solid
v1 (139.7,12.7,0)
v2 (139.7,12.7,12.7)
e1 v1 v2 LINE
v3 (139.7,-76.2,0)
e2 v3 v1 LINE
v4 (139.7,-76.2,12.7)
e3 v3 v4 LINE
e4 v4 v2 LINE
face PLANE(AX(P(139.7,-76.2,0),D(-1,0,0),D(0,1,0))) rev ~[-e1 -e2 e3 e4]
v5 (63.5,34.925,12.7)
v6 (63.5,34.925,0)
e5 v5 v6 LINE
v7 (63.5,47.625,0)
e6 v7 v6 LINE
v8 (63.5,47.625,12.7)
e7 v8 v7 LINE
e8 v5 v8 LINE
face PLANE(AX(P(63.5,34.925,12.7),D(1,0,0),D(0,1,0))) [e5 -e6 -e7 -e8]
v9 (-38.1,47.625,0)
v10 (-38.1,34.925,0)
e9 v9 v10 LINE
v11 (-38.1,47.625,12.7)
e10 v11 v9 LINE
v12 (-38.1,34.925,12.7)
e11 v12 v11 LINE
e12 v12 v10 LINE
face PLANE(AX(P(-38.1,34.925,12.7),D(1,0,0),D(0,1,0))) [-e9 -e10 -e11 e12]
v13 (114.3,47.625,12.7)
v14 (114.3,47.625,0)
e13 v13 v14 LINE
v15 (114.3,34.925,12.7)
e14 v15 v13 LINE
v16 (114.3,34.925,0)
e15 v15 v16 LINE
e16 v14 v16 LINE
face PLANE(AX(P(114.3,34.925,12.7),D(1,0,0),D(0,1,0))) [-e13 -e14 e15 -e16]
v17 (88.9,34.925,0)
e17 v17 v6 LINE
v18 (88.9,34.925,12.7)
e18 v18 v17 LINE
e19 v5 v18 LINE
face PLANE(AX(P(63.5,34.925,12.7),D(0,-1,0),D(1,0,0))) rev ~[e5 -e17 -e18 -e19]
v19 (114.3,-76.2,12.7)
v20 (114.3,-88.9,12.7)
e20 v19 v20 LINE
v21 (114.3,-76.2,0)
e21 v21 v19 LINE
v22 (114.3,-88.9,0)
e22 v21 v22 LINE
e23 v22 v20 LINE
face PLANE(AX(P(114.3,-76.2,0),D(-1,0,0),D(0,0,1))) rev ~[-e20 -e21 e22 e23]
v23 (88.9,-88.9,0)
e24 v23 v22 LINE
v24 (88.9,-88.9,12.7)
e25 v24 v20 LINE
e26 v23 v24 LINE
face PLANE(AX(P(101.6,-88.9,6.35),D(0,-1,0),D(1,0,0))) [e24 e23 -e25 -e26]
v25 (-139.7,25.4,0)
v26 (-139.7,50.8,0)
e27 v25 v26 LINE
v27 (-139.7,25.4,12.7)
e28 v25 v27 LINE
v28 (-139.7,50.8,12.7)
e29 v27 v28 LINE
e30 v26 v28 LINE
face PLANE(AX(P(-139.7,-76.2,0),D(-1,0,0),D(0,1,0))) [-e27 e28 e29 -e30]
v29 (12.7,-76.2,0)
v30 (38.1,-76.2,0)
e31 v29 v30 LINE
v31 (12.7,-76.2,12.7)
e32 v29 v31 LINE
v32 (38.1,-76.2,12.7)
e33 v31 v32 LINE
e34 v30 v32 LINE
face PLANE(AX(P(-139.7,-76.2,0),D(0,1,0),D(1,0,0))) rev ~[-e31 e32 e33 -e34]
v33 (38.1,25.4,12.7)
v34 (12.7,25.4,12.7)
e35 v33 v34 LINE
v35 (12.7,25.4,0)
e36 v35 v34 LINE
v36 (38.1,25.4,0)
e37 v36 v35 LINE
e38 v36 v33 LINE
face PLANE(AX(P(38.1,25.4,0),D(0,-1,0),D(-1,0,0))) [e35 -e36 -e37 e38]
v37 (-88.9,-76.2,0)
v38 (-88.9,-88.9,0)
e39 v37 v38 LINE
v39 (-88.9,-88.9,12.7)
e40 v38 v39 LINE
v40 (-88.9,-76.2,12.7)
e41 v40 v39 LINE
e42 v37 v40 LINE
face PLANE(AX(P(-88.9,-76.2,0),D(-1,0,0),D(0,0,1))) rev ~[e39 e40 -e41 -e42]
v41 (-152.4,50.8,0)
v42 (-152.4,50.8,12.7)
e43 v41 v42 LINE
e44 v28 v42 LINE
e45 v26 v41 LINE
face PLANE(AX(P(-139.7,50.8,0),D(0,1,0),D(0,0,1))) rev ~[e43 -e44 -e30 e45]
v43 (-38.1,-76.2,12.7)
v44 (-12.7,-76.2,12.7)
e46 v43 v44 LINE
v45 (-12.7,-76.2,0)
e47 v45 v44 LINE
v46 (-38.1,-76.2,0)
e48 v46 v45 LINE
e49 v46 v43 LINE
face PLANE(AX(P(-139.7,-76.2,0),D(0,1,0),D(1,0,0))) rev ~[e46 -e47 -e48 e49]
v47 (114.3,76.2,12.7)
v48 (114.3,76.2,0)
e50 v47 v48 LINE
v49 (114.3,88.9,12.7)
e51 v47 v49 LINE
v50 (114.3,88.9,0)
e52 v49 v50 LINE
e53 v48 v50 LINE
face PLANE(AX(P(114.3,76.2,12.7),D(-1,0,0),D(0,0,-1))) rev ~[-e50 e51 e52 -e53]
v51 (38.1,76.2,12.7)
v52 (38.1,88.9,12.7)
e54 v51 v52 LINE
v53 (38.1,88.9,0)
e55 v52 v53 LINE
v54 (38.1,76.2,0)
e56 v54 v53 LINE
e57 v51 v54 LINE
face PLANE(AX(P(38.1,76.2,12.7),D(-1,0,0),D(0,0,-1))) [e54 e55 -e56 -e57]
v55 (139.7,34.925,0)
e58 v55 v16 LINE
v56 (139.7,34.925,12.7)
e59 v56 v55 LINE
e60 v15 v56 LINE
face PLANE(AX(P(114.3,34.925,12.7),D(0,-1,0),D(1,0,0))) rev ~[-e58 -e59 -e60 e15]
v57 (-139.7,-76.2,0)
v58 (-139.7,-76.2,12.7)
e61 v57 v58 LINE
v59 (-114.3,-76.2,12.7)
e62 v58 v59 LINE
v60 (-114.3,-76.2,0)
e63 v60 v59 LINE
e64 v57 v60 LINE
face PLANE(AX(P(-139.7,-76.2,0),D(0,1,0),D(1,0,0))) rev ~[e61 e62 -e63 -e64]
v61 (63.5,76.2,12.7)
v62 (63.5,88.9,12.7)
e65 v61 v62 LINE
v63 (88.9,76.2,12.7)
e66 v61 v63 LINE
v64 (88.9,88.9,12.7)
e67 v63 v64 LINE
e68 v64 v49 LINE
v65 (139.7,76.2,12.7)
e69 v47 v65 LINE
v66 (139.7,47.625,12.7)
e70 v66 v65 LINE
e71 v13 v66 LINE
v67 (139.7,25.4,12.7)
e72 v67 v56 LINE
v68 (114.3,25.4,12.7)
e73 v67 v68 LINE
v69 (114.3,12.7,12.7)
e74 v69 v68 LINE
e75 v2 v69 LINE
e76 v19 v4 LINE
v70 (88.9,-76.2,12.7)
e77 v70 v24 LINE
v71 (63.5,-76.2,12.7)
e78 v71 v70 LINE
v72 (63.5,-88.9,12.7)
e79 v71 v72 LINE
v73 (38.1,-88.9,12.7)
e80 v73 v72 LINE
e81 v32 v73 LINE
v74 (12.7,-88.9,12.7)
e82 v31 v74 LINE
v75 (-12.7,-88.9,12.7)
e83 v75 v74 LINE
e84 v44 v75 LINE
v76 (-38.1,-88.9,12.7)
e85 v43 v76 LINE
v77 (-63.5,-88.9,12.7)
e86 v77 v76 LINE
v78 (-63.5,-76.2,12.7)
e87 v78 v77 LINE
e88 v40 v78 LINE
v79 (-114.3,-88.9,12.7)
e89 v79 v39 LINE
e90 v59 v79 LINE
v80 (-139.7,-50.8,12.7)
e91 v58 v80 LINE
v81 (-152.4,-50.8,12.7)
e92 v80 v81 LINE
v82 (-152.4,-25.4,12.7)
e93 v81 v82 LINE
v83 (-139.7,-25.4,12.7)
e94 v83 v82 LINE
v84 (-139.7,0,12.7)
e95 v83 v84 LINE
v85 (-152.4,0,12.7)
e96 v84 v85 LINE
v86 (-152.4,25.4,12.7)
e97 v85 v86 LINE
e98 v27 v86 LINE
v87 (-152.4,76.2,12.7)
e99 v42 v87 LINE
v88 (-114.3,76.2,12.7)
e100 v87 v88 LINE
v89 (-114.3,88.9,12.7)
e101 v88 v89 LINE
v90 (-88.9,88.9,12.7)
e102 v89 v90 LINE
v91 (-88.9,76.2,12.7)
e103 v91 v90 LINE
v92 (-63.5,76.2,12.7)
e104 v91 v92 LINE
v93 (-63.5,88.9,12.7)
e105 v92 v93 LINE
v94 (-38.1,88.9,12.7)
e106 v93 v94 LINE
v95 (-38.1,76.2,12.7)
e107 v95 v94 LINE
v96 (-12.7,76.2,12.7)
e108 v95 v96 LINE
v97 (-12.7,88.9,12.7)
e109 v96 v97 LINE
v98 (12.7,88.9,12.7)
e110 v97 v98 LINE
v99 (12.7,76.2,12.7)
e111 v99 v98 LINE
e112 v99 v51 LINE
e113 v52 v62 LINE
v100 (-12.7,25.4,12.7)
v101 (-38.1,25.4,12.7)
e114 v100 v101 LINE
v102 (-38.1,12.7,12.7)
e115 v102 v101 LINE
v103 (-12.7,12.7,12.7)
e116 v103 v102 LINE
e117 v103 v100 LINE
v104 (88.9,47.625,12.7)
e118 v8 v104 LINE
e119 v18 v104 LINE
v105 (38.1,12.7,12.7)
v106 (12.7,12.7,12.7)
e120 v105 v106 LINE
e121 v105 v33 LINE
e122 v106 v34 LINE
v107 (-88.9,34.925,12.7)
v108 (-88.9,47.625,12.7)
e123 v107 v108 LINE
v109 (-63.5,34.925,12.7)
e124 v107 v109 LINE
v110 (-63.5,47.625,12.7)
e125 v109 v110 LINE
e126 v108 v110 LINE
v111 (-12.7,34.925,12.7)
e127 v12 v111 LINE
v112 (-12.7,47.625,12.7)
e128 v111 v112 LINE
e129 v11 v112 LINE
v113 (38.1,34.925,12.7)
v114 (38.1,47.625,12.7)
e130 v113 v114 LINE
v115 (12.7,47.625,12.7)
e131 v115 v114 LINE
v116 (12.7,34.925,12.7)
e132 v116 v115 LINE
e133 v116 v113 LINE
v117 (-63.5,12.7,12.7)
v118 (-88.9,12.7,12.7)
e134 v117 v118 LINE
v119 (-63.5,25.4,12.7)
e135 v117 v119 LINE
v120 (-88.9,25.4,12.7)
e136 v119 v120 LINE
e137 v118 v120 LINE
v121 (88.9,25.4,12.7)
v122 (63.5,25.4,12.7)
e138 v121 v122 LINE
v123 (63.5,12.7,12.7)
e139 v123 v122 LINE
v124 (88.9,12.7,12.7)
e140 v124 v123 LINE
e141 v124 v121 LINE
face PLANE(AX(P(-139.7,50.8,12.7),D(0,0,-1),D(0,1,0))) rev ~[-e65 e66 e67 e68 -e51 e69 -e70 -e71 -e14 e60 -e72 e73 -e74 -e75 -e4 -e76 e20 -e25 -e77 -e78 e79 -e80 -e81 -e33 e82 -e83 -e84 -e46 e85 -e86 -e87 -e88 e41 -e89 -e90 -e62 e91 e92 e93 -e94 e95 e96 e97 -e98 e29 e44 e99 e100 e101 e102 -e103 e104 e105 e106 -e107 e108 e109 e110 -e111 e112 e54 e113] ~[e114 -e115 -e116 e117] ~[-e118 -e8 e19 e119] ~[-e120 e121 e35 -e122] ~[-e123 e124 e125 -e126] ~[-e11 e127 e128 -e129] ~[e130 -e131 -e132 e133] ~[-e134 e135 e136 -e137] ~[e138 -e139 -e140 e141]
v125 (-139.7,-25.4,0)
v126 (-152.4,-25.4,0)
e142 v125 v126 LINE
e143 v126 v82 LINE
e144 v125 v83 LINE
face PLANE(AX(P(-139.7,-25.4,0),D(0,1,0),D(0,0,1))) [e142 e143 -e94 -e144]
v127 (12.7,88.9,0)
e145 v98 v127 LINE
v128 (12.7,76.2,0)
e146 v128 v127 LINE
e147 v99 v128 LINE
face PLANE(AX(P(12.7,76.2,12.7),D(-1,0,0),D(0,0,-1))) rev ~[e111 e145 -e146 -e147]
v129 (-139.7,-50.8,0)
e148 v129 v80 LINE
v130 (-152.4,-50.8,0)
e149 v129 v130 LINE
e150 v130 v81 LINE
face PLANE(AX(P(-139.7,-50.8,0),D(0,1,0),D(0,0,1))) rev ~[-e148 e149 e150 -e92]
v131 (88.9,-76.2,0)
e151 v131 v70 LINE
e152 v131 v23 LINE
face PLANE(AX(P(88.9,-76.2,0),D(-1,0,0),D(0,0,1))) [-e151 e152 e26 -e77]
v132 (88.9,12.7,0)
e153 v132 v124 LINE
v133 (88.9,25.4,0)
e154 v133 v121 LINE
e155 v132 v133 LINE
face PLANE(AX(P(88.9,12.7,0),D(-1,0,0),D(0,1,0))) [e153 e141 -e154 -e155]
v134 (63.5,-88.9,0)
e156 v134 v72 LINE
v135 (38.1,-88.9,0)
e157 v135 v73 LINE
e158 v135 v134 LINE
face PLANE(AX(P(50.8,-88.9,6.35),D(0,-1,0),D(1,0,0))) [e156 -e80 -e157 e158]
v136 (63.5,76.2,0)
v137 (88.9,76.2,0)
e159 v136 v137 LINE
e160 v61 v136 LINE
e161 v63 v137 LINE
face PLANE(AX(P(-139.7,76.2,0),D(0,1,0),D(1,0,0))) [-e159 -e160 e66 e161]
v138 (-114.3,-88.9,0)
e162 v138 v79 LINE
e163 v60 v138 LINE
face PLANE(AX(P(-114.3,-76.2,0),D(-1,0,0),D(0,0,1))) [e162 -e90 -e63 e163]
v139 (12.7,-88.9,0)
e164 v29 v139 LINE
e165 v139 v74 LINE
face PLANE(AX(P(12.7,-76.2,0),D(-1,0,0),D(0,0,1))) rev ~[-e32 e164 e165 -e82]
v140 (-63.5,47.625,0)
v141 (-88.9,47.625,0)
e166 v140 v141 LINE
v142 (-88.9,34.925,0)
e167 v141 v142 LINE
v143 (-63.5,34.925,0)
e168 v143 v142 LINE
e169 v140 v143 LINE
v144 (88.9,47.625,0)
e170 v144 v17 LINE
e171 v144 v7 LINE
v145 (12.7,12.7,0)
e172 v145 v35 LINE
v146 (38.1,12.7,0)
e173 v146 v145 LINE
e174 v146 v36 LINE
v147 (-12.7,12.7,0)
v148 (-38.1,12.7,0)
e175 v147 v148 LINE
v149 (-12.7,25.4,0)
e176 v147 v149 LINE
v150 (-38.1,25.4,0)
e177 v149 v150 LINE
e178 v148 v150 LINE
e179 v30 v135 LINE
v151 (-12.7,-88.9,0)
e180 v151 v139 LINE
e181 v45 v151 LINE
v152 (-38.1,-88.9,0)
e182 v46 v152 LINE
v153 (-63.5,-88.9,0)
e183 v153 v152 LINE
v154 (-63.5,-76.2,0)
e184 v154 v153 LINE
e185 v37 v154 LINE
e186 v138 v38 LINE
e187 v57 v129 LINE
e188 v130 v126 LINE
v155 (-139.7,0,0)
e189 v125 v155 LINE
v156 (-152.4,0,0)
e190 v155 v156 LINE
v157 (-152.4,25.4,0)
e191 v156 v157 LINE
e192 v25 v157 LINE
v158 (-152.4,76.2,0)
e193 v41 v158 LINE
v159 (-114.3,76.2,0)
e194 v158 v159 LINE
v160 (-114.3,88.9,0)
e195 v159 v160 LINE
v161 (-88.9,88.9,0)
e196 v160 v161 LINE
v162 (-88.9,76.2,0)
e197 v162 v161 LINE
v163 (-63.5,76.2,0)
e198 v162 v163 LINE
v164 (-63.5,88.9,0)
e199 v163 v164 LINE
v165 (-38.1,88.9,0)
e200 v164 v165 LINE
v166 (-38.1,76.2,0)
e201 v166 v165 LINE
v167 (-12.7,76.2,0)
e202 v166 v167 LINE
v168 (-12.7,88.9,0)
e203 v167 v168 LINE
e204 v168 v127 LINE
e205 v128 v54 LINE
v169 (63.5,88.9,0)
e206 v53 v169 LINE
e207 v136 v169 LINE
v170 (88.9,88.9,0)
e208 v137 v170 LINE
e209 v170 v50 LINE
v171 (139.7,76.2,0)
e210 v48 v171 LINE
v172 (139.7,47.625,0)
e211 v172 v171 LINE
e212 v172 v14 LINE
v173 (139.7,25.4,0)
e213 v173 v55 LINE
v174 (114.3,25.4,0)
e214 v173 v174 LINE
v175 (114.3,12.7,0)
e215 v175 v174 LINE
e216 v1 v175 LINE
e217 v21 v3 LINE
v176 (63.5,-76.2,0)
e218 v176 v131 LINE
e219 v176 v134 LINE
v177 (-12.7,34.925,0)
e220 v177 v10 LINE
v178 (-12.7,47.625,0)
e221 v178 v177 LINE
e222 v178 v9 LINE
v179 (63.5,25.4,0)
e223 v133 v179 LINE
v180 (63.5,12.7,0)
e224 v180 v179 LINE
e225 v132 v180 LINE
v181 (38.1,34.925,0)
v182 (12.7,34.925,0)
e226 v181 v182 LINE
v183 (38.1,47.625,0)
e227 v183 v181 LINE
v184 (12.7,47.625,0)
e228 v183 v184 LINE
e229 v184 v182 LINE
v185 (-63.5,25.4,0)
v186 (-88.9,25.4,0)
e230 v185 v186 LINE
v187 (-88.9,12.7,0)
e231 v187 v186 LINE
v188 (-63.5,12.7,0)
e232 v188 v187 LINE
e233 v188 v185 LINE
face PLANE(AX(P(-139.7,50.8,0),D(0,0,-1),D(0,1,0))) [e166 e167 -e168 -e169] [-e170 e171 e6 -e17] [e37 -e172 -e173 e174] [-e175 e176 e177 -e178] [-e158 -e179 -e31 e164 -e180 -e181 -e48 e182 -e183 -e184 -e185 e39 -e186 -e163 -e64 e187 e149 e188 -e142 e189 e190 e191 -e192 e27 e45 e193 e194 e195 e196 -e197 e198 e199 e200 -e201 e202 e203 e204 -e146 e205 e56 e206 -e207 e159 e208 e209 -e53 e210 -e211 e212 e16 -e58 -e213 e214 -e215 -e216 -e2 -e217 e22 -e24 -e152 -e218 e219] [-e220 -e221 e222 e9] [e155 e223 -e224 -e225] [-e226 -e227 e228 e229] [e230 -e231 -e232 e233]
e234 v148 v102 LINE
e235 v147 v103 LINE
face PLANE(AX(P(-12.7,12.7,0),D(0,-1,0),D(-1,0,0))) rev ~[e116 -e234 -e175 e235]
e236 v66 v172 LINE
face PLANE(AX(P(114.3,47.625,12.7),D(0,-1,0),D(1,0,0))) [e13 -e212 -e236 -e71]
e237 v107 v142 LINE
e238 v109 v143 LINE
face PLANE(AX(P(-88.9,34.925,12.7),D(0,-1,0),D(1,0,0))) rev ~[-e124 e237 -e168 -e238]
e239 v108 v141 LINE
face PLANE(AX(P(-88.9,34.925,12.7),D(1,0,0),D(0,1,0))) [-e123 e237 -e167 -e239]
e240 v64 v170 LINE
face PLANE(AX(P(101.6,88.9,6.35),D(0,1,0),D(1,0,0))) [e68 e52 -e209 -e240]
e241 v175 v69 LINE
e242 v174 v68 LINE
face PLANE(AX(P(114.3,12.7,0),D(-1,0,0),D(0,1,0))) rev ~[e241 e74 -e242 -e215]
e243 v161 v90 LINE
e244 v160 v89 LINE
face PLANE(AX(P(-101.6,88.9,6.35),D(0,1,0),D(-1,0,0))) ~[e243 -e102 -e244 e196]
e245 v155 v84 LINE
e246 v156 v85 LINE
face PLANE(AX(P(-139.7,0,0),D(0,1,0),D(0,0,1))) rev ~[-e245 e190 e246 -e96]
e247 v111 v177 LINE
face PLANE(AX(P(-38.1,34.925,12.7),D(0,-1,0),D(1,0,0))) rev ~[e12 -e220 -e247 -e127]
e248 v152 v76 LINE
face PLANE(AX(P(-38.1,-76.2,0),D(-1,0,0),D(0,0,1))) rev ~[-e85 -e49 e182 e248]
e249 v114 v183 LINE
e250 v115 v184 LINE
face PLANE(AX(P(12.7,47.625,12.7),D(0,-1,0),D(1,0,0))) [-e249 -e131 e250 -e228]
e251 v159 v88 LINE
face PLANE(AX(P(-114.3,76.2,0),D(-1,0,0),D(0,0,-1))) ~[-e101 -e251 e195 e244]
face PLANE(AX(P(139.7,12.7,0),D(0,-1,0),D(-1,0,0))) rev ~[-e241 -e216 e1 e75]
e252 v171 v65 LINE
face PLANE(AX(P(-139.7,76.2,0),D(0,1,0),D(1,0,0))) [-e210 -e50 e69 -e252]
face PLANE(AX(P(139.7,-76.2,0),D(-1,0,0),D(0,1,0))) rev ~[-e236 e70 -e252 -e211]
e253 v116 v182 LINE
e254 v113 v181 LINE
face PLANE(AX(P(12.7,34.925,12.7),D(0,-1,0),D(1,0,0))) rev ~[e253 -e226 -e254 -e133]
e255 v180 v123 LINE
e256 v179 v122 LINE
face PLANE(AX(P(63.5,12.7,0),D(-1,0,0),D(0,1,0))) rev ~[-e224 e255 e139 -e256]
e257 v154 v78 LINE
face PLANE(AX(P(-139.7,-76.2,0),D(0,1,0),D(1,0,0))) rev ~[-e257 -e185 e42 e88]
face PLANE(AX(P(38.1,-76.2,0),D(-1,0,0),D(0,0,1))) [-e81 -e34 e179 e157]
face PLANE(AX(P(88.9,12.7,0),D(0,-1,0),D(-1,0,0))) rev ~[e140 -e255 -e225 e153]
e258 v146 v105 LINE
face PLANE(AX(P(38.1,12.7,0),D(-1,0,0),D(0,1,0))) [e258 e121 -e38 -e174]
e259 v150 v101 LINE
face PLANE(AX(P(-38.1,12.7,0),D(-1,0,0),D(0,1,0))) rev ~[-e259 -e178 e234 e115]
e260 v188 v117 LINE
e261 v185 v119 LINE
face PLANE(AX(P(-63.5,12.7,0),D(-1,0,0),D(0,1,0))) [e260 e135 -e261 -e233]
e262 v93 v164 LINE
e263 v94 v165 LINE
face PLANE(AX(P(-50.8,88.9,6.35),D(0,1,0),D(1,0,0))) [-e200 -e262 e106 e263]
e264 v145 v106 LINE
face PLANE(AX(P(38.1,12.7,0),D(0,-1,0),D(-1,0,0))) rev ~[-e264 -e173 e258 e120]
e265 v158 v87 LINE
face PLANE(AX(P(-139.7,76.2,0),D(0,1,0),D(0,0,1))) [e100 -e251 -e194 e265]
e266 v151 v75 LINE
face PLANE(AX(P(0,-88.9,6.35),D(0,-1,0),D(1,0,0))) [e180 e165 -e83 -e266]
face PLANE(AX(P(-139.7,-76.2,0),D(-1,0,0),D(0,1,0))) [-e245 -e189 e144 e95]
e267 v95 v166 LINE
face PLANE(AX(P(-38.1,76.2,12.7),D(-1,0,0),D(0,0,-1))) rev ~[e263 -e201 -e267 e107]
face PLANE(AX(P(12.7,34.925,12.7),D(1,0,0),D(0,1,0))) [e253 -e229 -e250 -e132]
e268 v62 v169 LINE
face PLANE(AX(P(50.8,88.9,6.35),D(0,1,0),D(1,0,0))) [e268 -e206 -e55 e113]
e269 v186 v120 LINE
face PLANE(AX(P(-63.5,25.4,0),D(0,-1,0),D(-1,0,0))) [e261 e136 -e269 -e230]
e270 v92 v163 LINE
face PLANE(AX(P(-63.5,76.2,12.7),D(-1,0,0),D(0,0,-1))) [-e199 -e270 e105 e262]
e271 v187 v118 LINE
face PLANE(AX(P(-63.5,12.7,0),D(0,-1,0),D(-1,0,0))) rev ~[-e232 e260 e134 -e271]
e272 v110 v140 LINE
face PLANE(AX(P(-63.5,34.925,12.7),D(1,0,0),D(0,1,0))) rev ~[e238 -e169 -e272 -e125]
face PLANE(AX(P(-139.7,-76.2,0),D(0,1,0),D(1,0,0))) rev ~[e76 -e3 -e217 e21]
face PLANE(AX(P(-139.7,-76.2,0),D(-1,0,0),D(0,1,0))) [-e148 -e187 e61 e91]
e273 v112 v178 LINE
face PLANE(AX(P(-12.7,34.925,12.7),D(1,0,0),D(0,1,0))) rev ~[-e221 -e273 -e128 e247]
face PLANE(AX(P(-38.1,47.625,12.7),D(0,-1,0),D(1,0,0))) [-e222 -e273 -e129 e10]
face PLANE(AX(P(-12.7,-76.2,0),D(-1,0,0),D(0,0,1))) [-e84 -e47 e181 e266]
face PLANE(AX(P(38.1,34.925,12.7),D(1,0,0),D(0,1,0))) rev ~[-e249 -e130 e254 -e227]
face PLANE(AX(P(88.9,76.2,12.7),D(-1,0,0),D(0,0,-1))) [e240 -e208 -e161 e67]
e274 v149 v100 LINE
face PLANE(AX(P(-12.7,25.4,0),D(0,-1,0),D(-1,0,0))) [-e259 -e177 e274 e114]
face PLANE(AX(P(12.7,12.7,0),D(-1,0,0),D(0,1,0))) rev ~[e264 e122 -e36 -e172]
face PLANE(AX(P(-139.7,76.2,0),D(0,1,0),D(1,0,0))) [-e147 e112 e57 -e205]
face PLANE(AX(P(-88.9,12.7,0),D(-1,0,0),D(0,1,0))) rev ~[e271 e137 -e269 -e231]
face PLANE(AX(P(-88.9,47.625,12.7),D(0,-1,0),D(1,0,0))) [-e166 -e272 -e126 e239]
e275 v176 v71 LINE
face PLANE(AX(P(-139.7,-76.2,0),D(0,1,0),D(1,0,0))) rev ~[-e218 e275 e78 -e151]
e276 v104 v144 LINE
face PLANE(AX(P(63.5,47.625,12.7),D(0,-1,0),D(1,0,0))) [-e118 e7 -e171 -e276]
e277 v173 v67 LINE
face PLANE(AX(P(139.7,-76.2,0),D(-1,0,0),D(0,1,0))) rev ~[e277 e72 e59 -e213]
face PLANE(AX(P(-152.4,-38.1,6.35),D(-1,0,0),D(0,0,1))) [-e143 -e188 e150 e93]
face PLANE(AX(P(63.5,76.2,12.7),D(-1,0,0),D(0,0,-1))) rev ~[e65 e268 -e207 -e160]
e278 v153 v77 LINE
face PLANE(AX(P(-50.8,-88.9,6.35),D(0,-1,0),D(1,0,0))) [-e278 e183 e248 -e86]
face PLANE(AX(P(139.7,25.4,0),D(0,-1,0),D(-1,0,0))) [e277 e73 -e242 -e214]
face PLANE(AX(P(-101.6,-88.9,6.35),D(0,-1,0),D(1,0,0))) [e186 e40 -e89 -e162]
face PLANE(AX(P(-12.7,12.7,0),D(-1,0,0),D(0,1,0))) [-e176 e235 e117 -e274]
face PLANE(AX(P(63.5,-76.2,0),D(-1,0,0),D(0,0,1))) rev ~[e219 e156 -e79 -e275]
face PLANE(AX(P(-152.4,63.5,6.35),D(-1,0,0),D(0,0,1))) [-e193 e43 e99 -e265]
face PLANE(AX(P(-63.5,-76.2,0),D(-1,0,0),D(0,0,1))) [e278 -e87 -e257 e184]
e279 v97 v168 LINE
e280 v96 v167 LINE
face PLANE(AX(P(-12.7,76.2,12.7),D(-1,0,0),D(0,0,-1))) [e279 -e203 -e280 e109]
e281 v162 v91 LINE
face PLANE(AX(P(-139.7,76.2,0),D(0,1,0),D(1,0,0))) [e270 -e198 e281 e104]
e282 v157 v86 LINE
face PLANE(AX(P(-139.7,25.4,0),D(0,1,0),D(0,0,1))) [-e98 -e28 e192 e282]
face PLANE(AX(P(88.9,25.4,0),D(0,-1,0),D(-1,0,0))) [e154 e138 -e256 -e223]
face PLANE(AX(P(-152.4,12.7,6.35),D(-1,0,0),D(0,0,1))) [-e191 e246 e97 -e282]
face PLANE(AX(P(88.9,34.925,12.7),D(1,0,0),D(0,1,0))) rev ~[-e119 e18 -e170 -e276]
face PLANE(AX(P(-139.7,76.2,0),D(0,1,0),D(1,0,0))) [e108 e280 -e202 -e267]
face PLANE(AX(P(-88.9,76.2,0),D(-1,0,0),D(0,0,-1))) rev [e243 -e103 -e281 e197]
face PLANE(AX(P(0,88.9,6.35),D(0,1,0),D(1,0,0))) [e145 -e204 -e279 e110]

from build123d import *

# Parameters (mm, degrees)
SKETCH1_W               = 279.4
SKETCH1_H               = 152.4
BOSS_EXTRUDE1_DEPTH     = 12.7
SKETCH2_W               = 25.4
SKETCH2_H               = 12.7
BOSS_EXTRUDE2_DEPTH     = 12.7
LPATTERN1_COUNT         = 5
LPATTERN1_PITCH         = 50.8
MIRROR1_COPY_1_SKETCH_W = 25.4
MIRROR1_COPY_1_SKETCH_H = 12.7
MIRROR1_COPY_1_DEPTH    = 12.7
MIRROR1_COPY_2_SKETCH_W = 25.4
MIRROR1_COPY_2_SKETCH_H = 12.7
MIRROR1_COPY_2_DEPTH    = 12.7
MIRROR1_COPY_3_SKETCH_W = 25.4
MIRROR1_COPY_3_SKETCH_H = 12.7
MIRROR1_COPY_3_DEPTH    = 12.7
MIRROR1_COPY_4_SKETCH_W = 25.4
MIRROR1_COPY_4_SKETCH_H = 12.7
MIRROR1_COPY_4_DEPTH    = 12.7
SKETCH3_W               = 12.7
SKETCH3_H               = 25.4
BOSS_EXTRUDE3_DEPTH     = 12.7
LPATTERN2_COUNT         = 3
LPATTERN2_PITCH         = 50.8
SKETCH4_W               = 25.4
SKETCH4_H               = 12.7
CUT_EXTRUDE1_DEPTH      = 13.7
LPATTERN3_COUNT         = 5
LPATTERN3_PITCH         = 50.8
SKETCH5_W               = 25.4
SKETCH5_H               = 12.7
CUT_EXTRUDE2_DEPTH      = 13.7
LPATTERN4_COUNT         = 5
LPATTERN4_PITCH         = 50.8


with BuildPart() as part:
    # Sketch1 → Boss-Extrude1 (new body)
    with BuildSketch(Plane.XY):
        Rectangle(SKETCH1_W, SKETCH1_H)
    extrude(amount=BOSS_EXTRUDE1_DEPTH)

    # Sketch2 → Boss-Extrude2 (add)
    with BuildSketch(Plane.XZ.offset(76.2)):
        with Locations((-101.6, 6.35)):
            Rectangle(SKETCH2_W, SKETCH2_H)
    boss_extrude2 = extrude(amount=BOSS_EXTRUDE2_DEPTH)

    # LPattern1: Boss-Extrude2 ×5
    with Locations(*[(i * LPATTERN1_PITCH, 0, 0) for i in range(1, LPATTERN1_COUNT)]):
        add(boss_extrude2)

    # Mirror1: Boss-Extrude2 across plane
    add(boss_extrude2.mirror(Plane.ZX))

    # Mirror1 copy 1 sketch → Mirror1 copy 1 (add)
    with BuildSketch(Plane(origin=(50.8, 76.2, 0), x_dir=(1, 0, 0), z_dir=(0, 1, 0))):
        with Locations((-101.6, -6.35)):
            Rectangle(MIRROR1_COPY_1_SKETCH_W, MIRROR1_COPY_1_SKETCH_H)
    extrude(amount=MIRROR1_COPY_1_DEPTH)

    # Mirror1 copy 2 sketch → Mirror1 copy 2 (add)
    with BuildSketch(Plane(origin=(101.6, 76.2, 0), x_dir=(1, 0, 0), z_dir=(0, 1, 0))):
        with Locations((-101.6, -6.35)):
            Rectangle(MIRROR1_COPY_2_SKETCH_W, MIRROR1_COPY_2_SKETCH_H)
    extrude(amount=MIRROR1_COPY_2_DEPTH)

    # Mirror1 copy 3 sketch → Mirror1 copy 3 (add)
    with BuildSketch(Plane(origin=(152.4, 76.2, 0), x_dir=(1, 0, 0), z_dir=(0, 1, 0))):
        with Locations((-101.6, -6.35)):
            Rectangle(MIRROR1_COPY_3_SKETCH_W, MIRROR1_COPY_3_SKETCH_H)
    extrude(amount=MIRROR1_COPY_3_DEPTH)

    # Mirror1 copy 4 sketch → Mirror1 copy 4 (add)
    with BuildSketch(Plane(origin=(203.2, 76.2, 0), x_dir=(1, 0, 0), z_dir=(0, 1, 0))):
        with Locations((-101.6, -6.35)):
            Rectangle(MIRROR1_COPY_4_SKETCH_W, MIRROR1_COPY_4_SKETCH_H)
    extrude(amount=MIRROR1_COPY_4_DEPTH)

    # Sketch3 → Boss-Extrude3 (add)
    with BuildSketch(Plane.ZY.offset(139.7)):
        with Locations((6.35, 63.5)):
            Rectangle(SKETCH3_W, SKETCH3_H)
    boss_extrude3 = extrude(amount=BOSS_EXTRUDE3_DEPTH)

    # LPattern2: Boss-Extrude3 ×3
    with Locations(*[(0, -i * LPATTERN2_PITCH, 0) for i in range(1, LPATTERN2_COUNT)]):
        add(boss_extrude3)

    # Sketch4 → Cut-Extrude1 (cut, through all)
    with BuildSketch(Plane(origin=(0, 0, 0), x_dir=(-1, 0, 0), z_dir=(0, 0, -1))):
        with Locations((-127, 19.05)):
            Rectangle(SKETCH4_W, SKETCH4_H)
    cut_extrude1 = extrude(amount=-CUT_EXTRUDE1_DEPTH, mode=Mode.SUBTRACT)

    # LPattern3: Cut-Extrude1 ×5
    with Locations(*[(-i * LPATTERN3_PITCH, 0, 0) for i in range(1, LPATTERN3_COUNT)]):
        add(cut_extrude1, mode=Mode.SUBTRACT)

    # Sketch5 → Cut-Extrude2 (cut, through all)
    with BuildSketch(Plane.XY.offset(12.7)):
        with Locations((-76.2, 41.275)):
            Rectangle(SKETCH5_W, SKETCH5_H)
    cut_extrude2 = extrude(amount=-CUT_EXTRUDE2_DEPTH, mode=Mode.SUBTRACT)

    # LPattern4: Cut-Extrude2 ×5
    with Locations(*[(i * LPATTERN4_PITCH, 0, 0) for i in range(1, LPATTERN4_COUNT)]):
        add(cut_extrude2, mode=Mode.SUBTRACT)


solid = part.part
